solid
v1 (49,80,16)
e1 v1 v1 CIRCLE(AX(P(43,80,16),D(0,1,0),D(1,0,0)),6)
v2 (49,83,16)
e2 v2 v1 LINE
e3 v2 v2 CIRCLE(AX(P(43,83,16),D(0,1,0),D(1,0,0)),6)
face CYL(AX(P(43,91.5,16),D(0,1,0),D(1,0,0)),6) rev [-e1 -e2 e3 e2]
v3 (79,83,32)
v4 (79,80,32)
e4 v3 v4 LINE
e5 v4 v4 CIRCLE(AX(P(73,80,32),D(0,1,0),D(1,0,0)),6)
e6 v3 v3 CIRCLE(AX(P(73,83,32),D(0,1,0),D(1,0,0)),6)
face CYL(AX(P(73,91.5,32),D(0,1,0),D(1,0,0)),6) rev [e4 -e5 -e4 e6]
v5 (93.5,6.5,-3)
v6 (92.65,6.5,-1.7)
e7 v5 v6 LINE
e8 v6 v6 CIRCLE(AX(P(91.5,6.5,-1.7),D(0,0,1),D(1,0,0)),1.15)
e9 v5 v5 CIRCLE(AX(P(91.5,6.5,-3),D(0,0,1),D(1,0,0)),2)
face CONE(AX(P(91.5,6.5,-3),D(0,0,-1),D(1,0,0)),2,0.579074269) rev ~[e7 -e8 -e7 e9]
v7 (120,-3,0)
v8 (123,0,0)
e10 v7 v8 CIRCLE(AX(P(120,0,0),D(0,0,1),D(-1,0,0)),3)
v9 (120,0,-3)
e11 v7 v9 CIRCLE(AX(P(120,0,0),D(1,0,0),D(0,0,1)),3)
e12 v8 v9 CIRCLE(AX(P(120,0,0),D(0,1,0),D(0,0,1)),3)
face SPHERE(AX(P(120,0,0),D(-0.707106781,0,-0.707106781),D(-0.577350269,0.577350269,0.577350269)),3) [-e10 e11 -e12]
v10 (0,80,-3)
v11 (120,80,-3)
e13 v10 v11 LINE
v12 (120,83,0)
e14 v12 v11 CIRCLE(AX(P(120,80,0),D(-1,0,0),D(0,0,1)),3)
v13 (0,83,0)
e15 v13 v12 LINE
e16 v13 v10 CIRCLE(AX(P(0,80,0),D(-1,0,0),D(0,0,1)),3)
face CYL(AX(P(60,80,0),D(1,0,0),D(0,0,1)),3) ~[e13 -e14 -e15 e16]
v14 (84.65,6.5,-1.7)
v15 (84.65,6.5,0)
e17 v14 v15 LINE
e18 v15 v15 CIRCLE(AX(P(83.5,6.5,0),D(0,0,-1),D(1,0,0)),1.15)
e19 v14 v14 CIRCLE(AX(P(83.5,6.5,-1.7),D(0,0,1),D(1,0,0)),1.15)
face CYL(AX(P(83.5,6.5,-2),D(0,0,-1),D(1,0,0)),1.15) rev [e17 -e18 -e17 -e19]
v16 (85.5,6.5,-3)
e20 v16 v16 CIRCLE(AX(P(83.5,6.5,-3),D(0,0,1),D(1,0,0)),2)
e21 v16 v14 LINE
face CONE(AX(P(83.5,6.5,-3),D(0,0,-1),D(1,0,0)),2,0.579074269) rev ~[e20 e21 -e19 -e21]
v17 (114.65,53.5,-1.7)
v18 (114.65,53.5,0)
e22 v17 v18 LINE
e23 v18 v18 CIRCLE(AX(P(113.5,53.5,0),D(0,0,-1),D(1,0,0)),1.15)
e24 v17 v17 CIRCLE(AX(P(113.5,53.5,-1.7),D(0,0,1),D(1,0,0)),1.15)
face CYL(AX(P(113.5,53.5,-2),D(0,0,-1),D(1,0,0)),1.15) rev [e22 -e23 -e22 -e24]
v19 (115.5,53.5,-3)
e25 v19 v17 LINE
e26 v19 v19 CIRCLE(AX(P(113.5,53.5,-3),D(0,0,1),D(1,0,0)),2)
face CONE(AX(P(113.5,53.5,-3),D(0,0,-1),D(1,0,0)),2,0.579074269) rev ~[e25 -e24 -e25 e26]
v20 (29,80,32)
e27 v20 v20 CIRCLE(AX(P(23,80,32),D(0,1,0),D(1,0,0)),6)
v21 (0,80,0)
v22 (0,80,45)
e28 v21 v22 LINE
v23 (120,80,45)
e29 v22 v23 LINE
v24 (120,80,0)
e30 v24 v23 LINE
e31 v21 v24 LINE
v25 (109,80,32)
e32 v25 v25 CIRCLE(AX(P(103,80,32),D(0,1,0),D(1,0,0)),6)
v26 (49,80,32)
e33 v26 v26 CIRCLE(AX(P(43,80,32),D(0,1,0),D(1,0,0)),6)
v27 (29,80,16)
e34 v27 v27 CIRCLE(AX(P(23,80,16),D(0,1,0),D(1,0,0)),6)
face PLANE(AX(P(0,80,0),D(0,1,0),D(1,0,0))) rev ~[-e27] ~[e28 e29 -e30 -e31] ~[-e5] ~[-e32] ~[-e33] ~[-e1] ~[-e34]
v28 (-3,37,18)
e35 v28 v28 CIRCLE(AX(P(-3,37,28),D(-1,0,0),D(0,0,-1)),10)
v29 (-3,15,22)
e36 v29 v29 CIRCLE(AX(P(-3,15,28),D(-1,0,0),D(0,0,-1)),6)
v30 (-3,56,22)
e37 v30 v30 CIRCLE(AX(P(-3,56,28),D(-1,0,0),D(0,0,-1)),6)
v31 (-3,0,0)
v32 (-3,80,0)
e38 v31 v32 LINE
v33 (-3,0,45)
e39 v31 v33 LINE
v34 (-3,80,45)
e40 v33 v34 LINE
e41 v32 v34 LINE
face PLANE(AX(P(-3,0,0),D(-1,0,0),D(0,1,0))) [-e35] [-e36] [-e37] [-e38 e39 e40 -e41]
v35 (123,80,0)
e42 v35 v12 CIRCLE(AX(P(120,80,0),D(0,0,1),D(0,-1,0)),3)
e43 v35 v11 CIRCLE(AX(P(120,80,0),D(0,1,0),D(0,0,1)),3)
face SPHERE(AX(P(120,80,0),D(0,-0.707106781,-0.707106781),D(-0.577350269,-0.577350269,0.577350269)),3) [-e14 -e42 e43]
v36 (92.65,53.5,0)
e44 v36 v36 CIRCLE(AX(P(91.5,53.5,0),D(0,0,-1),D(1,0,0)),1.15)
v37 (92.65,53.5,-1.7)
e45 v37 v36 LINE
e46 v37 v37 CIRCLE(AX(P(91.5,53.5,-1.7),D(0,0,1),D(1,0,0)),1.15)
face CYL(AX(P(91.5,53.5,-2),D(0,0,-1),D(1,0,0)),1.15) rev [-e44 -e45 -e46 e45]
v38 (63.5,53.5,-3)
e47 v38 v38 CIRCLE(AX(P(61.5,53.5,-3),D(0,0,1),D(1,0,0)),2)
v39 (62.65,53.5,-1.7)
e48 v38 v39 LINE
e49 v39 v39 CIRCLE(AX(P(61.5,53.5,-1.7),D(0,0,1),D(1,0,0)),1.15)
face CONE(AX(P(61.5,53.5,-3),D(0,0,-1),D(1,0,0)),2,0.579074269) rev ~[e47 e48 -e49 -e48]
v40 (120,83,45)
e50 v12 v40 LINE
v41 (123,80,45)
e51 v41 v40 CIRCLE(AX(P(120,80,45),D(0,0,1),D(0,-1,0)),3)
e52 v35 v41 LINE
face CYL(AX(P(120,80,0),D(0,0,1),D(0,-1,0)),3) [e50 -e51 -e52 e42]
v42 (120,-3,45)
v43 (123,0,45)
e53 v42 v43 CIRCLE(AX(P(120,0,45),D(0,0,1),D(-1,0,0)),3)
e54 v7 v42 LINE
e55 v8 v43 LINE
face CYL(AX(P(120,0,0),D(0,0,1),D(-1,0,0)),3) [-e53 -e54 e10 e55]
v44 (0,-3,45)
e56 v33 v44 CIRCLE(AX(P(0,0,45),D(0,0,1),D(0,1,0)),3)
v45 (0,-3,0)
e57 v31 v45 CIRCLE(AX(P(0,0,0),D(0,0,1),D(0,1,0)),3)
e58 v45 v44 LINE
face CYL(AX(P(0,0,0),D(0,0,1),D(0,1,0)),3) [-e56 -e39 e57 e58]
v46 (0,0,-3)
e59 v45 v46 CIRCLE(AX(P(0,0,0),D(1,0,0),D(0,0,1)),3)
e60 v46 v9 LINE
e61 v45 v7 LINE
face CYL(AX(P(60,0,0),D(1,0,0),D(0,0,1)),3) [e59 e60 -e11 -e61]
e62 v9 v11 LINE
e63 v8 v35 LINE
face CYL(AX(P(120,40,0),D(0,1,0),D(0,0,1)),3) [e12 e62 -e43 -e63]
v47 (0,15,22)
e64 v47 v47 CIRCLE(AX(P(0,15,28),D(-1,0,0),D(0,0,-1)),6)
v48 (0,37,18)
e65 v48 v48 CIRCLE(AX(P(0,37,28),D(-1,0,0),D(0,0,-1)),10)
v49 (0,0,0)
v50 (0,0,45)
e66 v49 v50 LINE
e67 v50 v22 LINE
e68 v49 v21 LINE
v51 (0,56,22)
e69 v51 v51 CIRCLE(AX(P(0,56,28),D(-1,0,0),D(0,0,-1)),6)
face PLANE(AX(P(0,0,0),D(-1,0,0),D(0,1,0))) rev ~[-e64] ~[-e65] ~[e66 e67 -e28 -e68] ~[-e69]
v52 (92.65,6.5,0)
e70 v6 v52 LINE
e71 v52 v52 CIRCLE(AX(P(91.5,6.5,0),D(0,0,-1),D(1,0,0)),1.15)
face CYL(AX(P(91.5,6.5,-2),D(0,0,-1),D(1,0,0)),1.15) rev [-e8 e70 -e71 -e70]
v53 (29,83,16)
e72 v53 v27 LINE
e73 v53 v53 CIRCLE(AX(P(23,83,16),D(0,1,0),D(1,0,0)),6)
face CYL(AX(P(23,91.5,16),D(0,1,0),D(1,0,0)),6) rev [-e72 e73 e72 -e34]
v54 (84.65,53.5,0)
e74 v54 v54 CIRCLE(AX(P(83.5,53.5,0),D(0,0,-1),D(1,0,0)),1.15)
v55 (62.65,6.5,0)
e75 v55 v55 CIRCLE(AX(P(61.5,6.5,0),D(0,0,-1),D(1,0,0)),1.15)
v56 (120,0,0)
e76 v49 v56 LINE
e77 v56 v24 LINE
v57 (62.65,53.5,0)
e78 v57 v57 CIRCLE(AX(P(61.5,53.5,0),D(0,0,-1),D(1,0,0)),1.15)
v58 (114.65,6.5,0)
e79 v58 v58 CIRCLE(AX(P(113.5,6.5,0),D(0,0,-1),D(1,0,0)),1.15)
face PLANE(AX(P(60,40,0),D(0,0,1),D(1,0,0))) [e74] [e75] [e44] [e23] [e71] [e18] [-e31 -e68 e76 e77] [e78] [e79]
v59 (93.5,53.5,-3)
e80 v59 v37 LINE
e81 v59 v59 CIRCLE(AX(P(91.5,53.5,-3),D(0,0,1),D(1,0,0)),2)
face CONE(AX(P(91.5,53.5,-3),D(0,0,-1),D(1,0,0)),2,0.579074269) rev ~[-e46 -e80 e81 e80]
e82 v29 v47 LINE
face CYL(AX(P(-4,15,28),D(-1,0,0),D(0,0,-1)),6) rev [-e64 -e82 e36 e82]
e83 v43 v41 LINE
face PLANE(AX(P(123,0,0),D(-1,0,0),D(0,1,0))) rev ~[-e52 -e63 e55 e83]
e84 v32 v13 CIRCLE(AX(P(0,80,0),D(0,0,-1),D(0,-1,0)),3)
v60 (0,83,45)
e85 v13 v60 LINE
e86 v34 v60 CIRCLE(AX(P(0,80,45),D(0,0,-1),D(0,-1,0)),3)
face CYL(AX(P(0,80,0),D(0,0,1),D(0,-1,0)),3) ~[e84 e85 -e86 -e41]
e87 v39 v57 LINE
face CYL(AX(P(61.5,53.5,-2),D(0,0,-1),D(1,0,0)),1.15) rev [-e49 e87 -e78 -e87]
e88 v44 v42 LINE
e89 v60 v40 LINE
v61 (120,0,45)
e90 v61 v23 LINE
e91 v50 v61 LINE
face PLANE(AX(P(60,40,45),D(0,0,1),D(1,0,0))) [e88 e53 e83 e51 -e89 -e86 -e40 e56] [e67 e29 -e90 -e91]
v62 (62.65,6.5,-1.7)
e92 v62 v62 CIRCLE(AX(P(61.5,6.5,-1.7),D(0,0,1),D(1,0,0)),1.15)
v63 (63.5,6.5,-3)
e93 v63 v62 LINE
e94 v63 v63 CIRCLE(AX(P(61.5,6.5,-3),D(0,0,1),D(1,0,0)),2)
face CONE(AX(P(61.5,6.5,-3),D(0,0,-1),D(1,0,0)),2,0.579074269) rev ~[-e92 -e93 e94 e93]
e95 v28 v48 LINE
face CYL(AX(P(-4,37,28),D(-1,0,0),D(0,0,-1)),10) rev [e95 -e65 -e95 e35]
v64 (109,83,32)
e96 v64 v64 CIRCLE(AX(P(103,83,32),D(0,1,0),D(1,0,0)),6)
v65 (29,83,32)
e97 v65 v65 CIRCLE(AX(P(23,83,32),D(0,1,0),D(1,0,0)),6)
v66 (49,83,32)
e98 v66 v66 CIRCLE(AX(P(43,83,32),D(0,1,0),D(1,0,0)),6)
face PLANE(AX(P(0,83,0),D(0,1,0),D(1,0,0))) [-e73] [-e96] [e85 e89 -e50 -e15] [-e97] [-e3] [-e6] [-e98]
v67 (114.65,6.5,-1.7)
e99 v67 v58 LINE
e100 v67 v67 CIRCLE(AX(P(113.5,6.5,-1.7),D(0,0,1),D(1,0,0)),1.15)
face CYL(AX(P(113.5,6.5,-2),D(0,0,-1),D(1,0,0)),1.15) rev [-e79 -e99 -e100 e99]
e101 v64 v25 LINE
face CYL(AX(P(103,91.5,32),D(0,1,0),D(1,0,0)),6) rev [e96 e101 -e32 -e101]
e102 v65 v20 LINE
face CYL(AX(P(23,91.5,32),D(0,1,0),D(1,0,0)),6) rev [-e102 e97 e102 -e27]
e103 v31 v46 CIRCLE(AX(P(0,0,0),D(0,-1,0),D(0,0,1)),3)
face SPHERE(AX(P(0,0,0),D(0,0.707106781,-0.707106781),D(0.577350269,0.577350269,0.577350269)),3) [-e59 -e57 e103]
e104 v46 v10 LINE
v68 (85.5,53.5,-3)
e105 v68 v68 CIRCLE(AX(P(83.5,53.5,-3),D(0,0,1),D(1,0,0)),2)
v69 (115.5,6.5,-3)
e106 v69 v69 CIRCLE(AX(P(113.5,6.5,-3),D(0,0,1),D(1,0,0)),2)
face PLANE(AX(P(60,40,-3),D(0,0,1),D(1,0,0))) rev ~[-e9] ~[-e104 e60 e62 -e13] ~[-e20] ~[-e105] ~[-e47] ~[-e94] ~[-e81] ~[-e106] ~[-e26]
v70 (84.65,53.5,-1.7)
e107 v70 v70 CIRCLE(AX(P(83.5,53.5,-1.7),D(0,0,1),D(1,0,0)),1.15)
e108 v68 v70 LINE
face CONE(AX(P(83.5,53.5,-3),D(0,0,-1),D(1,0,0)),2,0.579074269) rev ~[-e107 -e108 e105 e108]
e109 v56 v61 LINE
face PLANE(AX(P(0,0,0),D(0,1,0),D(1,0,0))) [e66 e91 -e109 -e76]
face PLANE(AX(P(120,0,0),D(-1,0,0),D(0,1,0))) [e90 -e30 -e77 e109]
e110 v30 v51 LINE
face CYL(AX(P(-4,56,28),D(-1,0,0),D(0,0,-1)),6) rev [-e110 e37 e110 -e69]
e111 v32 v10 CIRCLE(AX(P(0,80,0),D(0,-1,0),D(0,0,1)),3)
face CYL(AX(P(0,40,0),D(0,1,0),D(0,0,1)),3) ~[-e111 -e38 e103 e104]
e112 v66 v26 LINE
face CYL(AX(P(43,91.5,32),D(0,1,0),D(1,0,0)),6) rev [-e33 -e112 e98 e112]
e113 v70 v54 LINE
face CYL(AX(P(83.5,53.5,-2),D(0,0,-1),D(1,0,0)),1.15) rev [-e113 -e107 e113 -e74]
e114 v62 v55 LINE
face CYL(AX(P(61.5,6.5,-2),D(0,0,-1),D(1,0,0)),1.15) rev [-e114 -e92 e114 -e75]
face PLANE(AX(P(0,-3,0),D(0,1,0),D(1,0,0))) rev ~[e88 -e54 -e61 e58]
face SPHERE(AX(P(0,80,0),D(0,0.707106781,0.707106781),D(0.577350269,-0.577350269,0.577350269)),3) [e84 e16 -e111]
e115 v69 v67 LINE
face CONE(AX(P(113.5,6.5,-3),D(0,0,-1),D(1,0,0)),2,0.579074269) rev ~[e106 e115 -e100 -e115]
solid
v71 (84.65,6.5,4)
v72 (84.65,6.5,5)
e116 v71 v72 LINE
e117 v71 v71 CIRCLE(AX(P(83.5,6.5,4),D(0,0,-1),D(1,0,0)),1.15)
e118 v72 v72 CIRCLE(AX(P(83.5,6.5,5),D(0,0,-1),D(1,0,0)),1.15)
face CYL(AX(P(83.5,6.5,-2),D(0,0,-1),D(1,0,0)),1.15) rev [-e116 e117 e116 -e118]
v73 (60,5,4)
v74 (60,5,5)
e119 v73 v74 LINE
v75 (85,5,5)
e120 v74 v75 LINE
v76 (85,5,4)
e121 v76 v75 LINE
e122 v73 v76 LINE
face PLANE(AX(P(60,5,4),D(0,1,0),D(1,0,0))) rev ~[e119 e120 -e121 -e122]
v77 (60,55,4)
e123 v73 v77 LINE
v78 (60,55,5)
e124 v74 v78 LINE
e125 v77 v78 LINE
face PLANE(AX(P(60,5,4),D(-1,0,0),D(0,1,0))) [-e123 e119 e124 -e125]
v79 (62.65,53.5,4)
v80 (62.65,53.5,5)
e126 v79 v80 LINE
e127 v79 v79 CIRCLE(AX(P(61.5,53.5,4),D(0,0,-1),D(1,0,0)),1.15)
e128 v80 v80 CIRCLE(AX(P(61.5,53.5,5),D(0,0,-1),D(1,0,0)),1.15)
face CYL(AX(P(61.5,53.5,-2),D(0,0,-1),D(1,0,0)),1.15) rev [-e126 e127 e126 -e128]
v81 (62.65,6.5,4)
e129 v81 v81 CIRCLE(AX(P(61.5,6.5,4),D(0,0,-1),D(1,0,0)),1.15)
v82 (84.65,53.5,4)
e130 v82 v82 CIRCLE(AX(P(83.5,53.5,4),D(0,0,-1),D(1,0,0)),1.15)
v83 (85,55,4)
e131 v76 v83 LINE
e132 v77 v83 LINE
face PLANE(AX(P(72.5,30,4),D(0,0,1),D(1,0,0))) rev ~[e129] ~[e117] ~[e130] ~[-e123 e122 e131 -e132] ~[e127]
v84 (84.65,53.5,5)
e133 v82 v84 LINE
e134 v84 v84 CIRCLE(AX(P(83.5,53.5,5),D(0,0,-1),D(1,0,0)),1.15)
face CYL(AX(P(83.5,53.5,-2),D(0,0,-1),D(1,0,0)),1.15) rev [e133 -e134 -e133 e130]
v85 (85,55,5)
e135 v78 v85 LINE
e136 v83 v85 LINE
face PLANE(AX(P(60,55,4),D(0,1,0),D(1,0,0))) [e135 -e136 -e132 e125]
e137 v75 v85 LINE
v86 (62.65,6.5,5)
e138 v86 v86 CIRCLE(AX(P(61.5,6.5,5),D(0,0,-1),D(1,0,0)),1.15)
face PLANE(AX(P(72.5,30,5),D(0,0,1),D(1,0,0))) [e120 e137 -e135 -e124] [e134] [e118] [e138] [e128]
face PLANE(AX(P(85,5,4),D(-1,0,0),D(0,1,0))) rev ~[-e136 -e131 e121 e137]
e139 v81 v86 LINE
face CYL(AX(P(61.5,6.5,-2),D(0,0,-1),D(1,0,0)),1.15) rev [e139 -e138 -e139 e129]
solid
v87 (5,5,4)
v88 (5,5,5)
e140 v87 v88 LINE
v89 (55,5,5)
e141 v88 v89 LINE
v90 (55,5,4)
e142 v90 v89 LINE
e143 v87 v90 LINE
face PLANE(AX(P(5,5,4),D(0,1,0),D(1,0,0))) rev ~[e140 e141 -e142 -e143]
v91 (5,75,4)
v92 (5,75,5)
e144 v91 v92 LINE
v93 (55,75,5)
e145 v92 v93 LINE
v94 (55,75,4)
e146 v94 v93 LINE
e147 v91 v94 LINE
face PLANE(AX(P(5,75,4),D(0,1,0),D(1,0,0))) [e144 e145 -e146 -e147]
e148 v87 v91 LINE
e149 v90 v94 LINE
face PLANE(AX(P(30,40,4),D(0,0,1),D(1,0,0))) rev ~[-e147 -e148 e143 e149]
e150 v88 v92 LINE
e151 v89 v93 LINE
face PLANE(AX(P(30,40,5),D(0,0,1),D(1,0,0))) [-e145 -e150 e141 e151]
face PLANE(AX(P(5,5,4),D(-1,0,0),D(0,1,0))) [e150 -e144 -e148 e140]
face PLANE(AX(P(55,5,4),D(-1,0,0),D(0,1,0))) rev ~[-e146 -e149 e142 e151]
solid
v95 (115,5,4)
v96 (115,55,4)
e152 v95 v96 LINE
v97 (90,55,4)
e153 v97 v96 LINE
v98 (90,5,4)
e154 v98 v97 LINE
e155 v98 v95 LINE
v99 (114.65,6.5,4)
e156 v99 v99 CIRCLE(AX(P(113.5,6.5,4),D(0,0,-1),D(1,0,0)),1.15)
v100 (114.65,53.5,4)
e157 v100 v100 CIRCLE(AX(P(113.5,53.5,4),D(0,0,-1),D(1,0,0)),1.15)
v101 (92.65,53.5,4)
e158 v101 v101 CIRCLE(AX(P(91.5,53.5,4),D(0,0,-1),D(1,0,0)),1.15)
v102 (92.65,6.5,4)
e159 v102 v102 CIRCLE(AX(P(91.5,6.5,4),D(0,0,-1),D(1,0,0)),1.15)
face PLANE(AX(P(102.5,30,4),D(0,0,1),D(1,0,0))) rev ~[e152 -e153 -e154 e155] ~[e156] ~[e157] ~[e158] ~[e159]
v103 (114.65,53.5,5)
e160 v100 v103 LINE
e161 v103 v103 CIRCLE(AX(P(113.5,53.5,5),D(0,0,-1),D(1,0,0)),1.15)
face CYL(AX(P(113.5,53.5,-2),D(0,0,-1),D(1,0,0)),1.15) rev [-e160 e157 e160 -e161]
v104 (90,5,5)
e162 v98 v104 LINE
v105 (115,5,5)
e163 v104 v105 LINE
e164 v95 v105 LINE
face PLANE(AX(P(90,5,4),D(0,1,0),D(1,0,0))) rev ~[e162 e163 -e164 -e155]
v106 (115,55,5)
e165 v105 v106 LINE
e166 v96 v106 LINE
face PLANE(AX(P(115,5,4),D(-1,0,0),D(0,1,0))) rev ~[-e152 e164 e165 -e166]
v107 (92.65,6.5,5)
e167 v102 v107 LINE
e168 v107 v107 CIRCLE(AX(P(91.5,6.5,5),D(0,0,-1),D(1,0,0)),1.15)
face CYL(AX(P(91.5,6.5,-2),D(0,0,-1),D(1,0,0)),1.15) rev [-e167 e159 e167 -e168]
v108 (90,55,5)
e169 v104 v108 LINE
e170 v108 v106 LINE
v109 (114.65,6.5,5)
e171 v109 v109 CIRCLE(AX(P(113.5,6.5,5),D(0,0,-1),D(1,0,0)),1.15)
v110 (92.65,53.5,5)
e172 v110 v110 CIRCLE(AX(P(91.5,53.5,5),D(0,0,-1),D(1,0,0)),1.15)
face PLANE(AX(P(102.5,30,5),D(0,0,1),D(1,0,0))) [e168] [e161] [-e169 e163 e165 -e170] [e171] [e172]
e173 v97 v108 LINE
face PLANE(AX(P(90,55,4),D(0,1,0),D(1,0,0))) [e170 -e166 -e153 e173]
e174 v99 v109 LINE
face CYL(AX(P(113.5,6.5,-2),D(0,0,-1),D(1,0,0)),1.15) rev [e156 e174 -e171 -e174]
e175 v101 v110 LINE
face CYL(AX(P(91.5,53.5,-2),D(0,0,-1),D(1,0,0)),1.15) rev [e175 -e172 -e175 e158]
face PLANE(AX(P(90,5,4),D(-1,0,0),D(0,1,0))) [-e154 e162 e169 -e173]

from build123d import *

# Parameters (mm, degrees)
BOX003_W                = 50
BOX003_H                = 70
BOX003_DEPTH            = 1
CYLINDER002_R           = 6
CYLINDER002_DEPTH       = 20
CYLINDER001_R           = 6
CYLINDER001_DEPTH       = 20
CYLINDER003_R           = 6
CYLINDER003_DEPTH       = 20
CYLINDER_R              = 6
CYLINDER_DEPTH          = 20
CYLINDER005_R           = 6
CYLINDER005_DEPTH       = 20
CYLINDER004_R           = 6
CYLINDER004_DEPTH       = 20
FUSION022_ROLL_ANGLE    = 90
CYLINDER007_R           = 6
CYLINDER007_DEPTH       = 20
CYLINDER007_PITCH_ANGLE = 90
CYLINDER008_R           = 10
CYLINDER008_DEPTH       = 20
CYLINDER008_PITCH_ANGLE = 90
CYLINDER006_R           = 6
CYLINDER006_DEPTH       = 30
CYLINDER006_PITCH_ANGLE = 90
CYLINDER013_R           = 1.15
CYLINDER013_DEPTH       = 15
CYLINDER012_R           = 1.15
CYLINDER012_DEPTH       = 15
CYLINDER011_R           = 1.15
CYLINDER011_DEPTH       = 15
CYLINDER010_R           = 1.15
CYLINDER010_DEPTH       = 15
CYLINDER014_R           = 1.15
CYLINDER014_DEPTH       = 15
CYLINDER016_R           = 1.15
CYLINDER016_DEPTH       = 15
CYLINDER017_R           = 1.15
CYLINDER017_DEPTH       = 15
CYLINDER015_R           = 1.15
CYLINDER015_DEPTH       = 15
BOX001_W                = 25
BOX001_H                = 50
BOX001_DEPTH            = 1
BOX002_W                = 25
BOX002_H                = 50
BOX002_DEPTH            = 1
BOX_W                   = 120
BOX_H                   = 80
BOX_DEPTH               = 45
THICKNESS_T             = 3


with BuildPart() as cube001:
    # Box003 → Box003 (new body)
    with BuildSketch(Plane(origin=(5, 5, 4), x_dir=(1, 0, 0), z_dir=(0, 0, 1))):
        with Locations((25, 35)):
            Rectangle(BOX003_W, BOX003_H)
    extrude(amount=BOX003_DEPTH)


with BuildPart() as cylindre002:
    # Cylinder002 → Cylinder002 (new body)
    with BuildSketch(Plane(origin=(16, -16, 0), x_dir=(1, 0, 0), z_dir=(0, 0, 1))):
        Circle(CYLINDER002_R)
    extrude(amount=CYLINDER002_DEPTH)


with BuildPart() as fusion:
    # Cylinder001 → Cylinder001 (new body)
    with BuildSketch(Plane(origin=(16, 0, 0), x_dir=(1, 0, 0), z_dir=(0, 0, 1))):
        Circle(CYLINDER001_R)
    extrude(amount=CYLINDER001_DEPTH)

    # Fusion: union Cylindre002
    add(cylindre002.part)


with BuildPart() as fusion_1:
    # Fusion placement: moved
    add(fusion.part.moved(Location((27, 0, 0))))


with BuildPart() as cylindre003:
    # Cylinder003 → Cylinder003 (new body)
    with BuildSketch(Plane(origin=(0, -16, 0), x_dir=(1, 0, 0), z_dir=(0, 0, 1))):
        Circle(CYLINDER003_R)
    extrude(amount=CYLINDER003_DEPTH)


with BuildPart() as fusion021:
    # Cylinder → Cylinder (new body)
    with BuildSketch(Plane.XY):
        Circle(CYLINDER_R)
    extrude(amount=CYLINDER_DEPTH)

    # Fusion001: union Cylindre003
    add(cylindre003.part)


with BuildPart() as fusion021_1:
    # Fusion001 placement: moved
    add(fusion021.part.moved(Location((23, 0, 0))))

    # Fusion021: union Fusion
    add(fusion_1.part)


with BuildPart() as fusion021_2:
    # Fusion021 placement: moved
    add(fusion021_1.part.moved(Location((0, 7, 0))))


with BuildPart() as cylindre005:
    # Cylinder005 → Cylinder005 (new body)
    with BuildSketch(Plane(origin=(103, -8, 0), x_dir=(1, 0, 0), z_dir=(0, 0, 1))):
        Circle(CYLINDER005_R)
    extrude(amount=CYLINDER005_DEPTH)


with BuildPart() as fusion022:
    # Cylinder004 → Cylinder004 (new body)
    with BuildSketch(Plane(origin=(73, -8, 0), x_dir=(1, 0, 0), z_dir=(0, 0, 1))):
        Circle(CYLINDER004_R)
    extrude(amount=CYLINDER004_DEPTH)

    # Fusion002: union Cylindre005
    add(cylindre005.part)


with BuildPart() as fusion022_1:
    # Fusion002 placement: moved
    add(fusion022.part.moved(Location((0, 15, 0))))

    # Fusion022: union Fusion021
    add(fusion021_2.part)


with BuildPart() as fusion022_2:
    # Fusion022 roll: moved
    add(fusion022_1.part.rotate(Axis((0, 0, 0), (1, 0, 0)), FUSION022_ROLL_ANGLE))


with BuildPart() as fusion022_3:
    # Fusion022 placement: moved
    add(fusion022_2.part.moved(Location((0, 91.5, 25))))


with BuildPart() as cylindre007:
    # Cylinder007 → Cylinder007 (new body)
    with BuildSketch(Plane.XY):
        Circle(CYLINDER007_R)
    extrude(amount=CYLINDER007_DEPTH)


with BuildPart() as cylindre007_1:
    # Cylinder007 pitch: moved
    add(cylindre007.part.rotate(Axis((0, 0, 0), (0, 1, 0)), CYLINDER007_PITCH_ANGLE))


with BuildPart() as cylindre007_2:
    # Cylinder007 placement: moved
    add(cylindre007_1.part.moved(Location((-4, 56, 20))))


with BuildPart() as cylindre008:
    # Cylinder008 → Cylinder008 (new body)
    with BuildSketch(Plane.XY):
        Circle(CYLINDER008_R)
    extrude(amount=CYLINDER008_DEPTH)


with BuildPart() as cylindre008_1:
    # Cylinder008 pitch: moved
    add(cylindre008.part.rotate(Axis((0, 0, 0), (0, 1, 0)), CYLINDER008_PITCH_ANGLE))


with BuildPart() as cylindre008_2:
    # Cylinder008 placement: moved
    add(cylindre008_1.part.moved(Location((-4, 37, 20))))


with BuildPart() as fusion023:
    # Cylinder006 → Cylinder006 (new body)
    with BuildSketch(Plane.XY):
        Circle(CYLINDER006_R)
    extrude(amount=CYLINDER006_DEPTH)


with BuildPart() as fusion023_1:
    # Cylinder006 pitch: moved
    add(fusion023.part.rotate(Axis((0, 0, 0), (0, 1, 0)), CYLINDER006_PITCH_ANGLE))


with BuildPart() as fusion023_2:
    # Cylinder006 placement: moved
    add(fusion023_1.part.moved(Location((-4, 15, 20))))

    # Fusion005: union Cylindre007, Cylindre008
    add(cylindre007_2.part)
    add(cylindre008_2.part)


with BuildPart() as fusion023_3:
    # Fusion005 placement: moved
    add(fusion023_2.part.moved(Location((0, 0, 8))))

    # Fusion023: union Fusion022
    add(fusion022_3.part)


with BuildPart() as c_ne003:
    # Cone003 → Cone003 (revolve)
    with BuildSketch(Plane.XZ):
        Polygon((0, 0), (2, 0), (1.15, 1.3), (0, 1.3), align=None)
    revolve(axis=Axis((0, 0, 0), (0, 0, 1)))


with BuildPart() as vis003:
    # Cylinder013 → Cylinder013 (new body)
    with BuildSketch(Plane.XY.offset(1)):
        Circle(CYLINDER013_R)
    extrude(amount=CYLINDER013_DEPTH)

    # Fusion011: union Cône003
    add(c_ne003.part)


with BuildPart() as vis003_1:
    # Fusion011 placement: moved
    add(vis003.part.moved(Location((22, 0, 0))))


with BuildPart() as c_ne002:
    # Cone002 → Cone002 (revolve)
    with BuildSketch(Plane.XZ):
        Polygon((0, 0), (2, 0), (1.15, 1.3), (0, 1.3), align=None)
    revolve(axis=Axis((0, 0, 0), (0, 0, 1)))


with BuildPart() as fusion009:
    # Cylinder012 → Cylinder012 (new body)
    with BuildSketch(Plane.XY.offset(1)):
        Circle(CYLINDER012_R)
    extrude(amount=CYLINDER012_DEPTH)

    # Fusion010: union Cône002
    add(c_ne002.part)

    # Fusion009: union Vis003
    add(vis003_1.part)


with BuildPart() as fusion009_1:
    # Fusion009 placement: moved
    add(fusion009.part.moved(Location((0, -47, 0))))


with BuildPart() as c_ne001:
    # Cone001 → Cone001 (revolve)
    with BuildSketch(Plane.XZ):
        Polygon((0, 0), (2, 0), (1.15, 1.3), (0, 1.3), align=None)
    revolve(axis=Axis((0, 0, 0), (0, 0, 1)))


with BuildPart() as vis001:
    # Cylinder011 → Cylinder011 (new body)
    with BuildSketch(Plane.XY.offset(1)):
        Circle(CYLINDER011_R)
    extrude(amount=CYLINDER011_DEPTH)

    # Fusion007: union Cône001
    add(c_ne001.part)


with BuildPart() as vis001_1:
    # Fusion007 placement: moved
    add(vis001.part.moved(Location((22, 0, 0))))


with BuildPart() as c_ne:
    # Cone → Cone (revolve)
    with BuildSketch(Plane.XZ):
        Polygon((0, 0), (2, 0), (1.15, 1.3), (0, 1.3), align=None)
    revolve(axis=Axis((0, 0, 0), (0, 0, 1)))


with BuildPart() as vis_cartes_alim:
    # Cylinder010 → Cylinder010 (new body)
    with BuildSketch(Plane.XY.offset(1)):
        Circle(CYLINDER010_R)
    extrude(amount=CYLINDER010_DEPTH)

    # Fusion006: union Cône
    add(c_ne.part)

    # Fusion008: union Vis001
    add(vis001_1.part)

    # Fusion012: union Fusion009
    add(fusion009_1.part)


with BuildPart() as vis_cartes_alim_1:
    # Fusion012 placement: moved
    add(vis_cartes_alim.part.moved(Location((61.5, 53.5, -3))))


with BuildPart() as c_ne004:
    # Cone004 → Cone004 (revolve)
    with BuildSketch(Plane.XZ):
        Polygon((0, 0), (2, 0), (1.15, 1.3), (0, 1.3), align=None)
    revolve(axis=Axis((0, 0, 0), (0, 0, 1)))


with BuildPart() as vis006:
    # Cylinder014 → Cylinder014 (new body)
    with BuildSketch(Plane.XY.offset(1)):
        Circle(CYLINDER014_R)
    extrude(amount=CYLINDER014_DEPTH)

    # Fusion017: union Cône004
    add(c_ne004.part)


with BuildPart() as vis006_1:
    # Fusion017 placement: moved
    add(vis006.part.moved(Location((22, 0, 0))))


with BuildPart() as c_ne006:
    # Cone006 → Cone006 (revolve)
    with BuildSketch(Plane.XZ):
        Polygon((0, 0), (2, 0), (1.15, 1.3), (0, 1.3), align=None)
    revolve(axis=Axis((0, 0, 0), (0, 0, 1)))


with BuildPart() as fusion013:
    # Cylinder016 → Cylinder016 (new body)
    with BuildSketch(Plane.XY.offset(1)):
        Circle(CYLINDER016_R)
    extrude(amount=CYLINDER016_DEPTH)

    # Fusion016: union Cône006
    add(c_ne006.part)

    # Fusion013: union Vis006
    add(vis006_1.part)


with BuildPart() as fusion013_1:
    # Fusion013 placement: moved
    add(fusion013.part.moved(Location((0, -47, 0))))


with BuildPart() as c_ne007:
    # Cone007 → Cone007 (revolve)
    with BuildSketch(Plane.XZ):
        Polygon((0, 0), (2, 0), (1.15, 1.3), (0, 1.3), align=None)
    revolve(axis=Axis((0, 0, 0), (0, 0, 1)))


with BuildPart() as vis007:
    # Cylinder017 → Cylinder017 (new body)
    with BuildSketch(Plane.XY.offset(1)):
        Circle(CYLINDER017_R)
    extrude(amount=CYLINDER017_DEPTH)

    # Fusion018: union Cône007
    add(c_ne007.part)


with BuildPart() as vis007_1:
    # Fusion018 placement: moved
    add(vis007.part.moved(Location((22, 0, 0))))


with BuildPart() as c_ne005:
    # Cone005 → Cone005 (revolve)
    with BuildSketch(Plane.XZ):
        Polygon((0, 0), (2, 0), (1.15, 1.3), (0, 1.3), align=None)
    revolve(axis=Axis((0, 0, 0), (0, 0, 1)))


with BuildPart() as fusion020:
    # Cylinder015 → Cylinder015 (new body)
    with BuildSketch(Plane.XY.offset(1)):
        Circle(CYLINDER015_R)
    extrude(amount=CYLINDER015_DEPTH)

    # Fusion015: union Cône005
    add(c_ne005.part)

    # Fusion014: union Vis007
    add(vis007_1.part)

    # Fusion019: union Fusion013
    add(fusion013_1.part)


with BuildPart() as fusion020_1:
    # Fusion019 placement: moved
    add(fusion020.part.moved(Location((91.5, 53.5, -3))))

    # Fusion020: union Vis cartes alim
    add(vis_cartes_alim_1.part)


with BuildPart() as carte:
    # Box001 → Box001 (new body)
    with BuildSketch(Plane(origin=(90, 5, 4), x_dir=(1, 0, 0), z_dir=(0, 0, 1))):
        with Locations((12.5, 25)):
            Rectangle(BOX001_W, BOX001_H)
    extrude(amount=BOX001_DEPTH)


with BuildPart() as carte001:
    # Box002 → Box002 (new body)
    with BuildSketch(Plane(origin=(60, 5, 4), x_dir=(1, 0, 0), z_dir=(0, 0, 1))):
        with Locations((12.5, 25)):
            Rectangle(BOX002_W, BOX002_H)
    extrude(amount=BOX002_DEPTH)


with BuildPart() as cut001:
    # Box → Box (new body)
    with BuildSketch(Plane.XY):
        with Locations((60, 40)):
            Rectangle(BOX_W, BOX_H)
    extrude(amount=BOX_DEPTH)

    # Thickness
    thickness_openings = [cut001.faces().sort_by_distance(p)[0] for p in [
        (60, 40, 45),
    ]]
    offset(amount=THICKNESS_T, openings=thickness_openings)

    # Fusion004: union Carte, Carte001
    add(carte.part)
    add(carte001.part)

    # Cut: cut Fusion020
    add(fusion020_1.part, mode=Mode.SUBTRACT)

    # Cut001: cut Fusion023
    add(fusion023_3.part, mode=Mode.SUBTRACT)


solid = Compound([cube001.part, cut001.part])
